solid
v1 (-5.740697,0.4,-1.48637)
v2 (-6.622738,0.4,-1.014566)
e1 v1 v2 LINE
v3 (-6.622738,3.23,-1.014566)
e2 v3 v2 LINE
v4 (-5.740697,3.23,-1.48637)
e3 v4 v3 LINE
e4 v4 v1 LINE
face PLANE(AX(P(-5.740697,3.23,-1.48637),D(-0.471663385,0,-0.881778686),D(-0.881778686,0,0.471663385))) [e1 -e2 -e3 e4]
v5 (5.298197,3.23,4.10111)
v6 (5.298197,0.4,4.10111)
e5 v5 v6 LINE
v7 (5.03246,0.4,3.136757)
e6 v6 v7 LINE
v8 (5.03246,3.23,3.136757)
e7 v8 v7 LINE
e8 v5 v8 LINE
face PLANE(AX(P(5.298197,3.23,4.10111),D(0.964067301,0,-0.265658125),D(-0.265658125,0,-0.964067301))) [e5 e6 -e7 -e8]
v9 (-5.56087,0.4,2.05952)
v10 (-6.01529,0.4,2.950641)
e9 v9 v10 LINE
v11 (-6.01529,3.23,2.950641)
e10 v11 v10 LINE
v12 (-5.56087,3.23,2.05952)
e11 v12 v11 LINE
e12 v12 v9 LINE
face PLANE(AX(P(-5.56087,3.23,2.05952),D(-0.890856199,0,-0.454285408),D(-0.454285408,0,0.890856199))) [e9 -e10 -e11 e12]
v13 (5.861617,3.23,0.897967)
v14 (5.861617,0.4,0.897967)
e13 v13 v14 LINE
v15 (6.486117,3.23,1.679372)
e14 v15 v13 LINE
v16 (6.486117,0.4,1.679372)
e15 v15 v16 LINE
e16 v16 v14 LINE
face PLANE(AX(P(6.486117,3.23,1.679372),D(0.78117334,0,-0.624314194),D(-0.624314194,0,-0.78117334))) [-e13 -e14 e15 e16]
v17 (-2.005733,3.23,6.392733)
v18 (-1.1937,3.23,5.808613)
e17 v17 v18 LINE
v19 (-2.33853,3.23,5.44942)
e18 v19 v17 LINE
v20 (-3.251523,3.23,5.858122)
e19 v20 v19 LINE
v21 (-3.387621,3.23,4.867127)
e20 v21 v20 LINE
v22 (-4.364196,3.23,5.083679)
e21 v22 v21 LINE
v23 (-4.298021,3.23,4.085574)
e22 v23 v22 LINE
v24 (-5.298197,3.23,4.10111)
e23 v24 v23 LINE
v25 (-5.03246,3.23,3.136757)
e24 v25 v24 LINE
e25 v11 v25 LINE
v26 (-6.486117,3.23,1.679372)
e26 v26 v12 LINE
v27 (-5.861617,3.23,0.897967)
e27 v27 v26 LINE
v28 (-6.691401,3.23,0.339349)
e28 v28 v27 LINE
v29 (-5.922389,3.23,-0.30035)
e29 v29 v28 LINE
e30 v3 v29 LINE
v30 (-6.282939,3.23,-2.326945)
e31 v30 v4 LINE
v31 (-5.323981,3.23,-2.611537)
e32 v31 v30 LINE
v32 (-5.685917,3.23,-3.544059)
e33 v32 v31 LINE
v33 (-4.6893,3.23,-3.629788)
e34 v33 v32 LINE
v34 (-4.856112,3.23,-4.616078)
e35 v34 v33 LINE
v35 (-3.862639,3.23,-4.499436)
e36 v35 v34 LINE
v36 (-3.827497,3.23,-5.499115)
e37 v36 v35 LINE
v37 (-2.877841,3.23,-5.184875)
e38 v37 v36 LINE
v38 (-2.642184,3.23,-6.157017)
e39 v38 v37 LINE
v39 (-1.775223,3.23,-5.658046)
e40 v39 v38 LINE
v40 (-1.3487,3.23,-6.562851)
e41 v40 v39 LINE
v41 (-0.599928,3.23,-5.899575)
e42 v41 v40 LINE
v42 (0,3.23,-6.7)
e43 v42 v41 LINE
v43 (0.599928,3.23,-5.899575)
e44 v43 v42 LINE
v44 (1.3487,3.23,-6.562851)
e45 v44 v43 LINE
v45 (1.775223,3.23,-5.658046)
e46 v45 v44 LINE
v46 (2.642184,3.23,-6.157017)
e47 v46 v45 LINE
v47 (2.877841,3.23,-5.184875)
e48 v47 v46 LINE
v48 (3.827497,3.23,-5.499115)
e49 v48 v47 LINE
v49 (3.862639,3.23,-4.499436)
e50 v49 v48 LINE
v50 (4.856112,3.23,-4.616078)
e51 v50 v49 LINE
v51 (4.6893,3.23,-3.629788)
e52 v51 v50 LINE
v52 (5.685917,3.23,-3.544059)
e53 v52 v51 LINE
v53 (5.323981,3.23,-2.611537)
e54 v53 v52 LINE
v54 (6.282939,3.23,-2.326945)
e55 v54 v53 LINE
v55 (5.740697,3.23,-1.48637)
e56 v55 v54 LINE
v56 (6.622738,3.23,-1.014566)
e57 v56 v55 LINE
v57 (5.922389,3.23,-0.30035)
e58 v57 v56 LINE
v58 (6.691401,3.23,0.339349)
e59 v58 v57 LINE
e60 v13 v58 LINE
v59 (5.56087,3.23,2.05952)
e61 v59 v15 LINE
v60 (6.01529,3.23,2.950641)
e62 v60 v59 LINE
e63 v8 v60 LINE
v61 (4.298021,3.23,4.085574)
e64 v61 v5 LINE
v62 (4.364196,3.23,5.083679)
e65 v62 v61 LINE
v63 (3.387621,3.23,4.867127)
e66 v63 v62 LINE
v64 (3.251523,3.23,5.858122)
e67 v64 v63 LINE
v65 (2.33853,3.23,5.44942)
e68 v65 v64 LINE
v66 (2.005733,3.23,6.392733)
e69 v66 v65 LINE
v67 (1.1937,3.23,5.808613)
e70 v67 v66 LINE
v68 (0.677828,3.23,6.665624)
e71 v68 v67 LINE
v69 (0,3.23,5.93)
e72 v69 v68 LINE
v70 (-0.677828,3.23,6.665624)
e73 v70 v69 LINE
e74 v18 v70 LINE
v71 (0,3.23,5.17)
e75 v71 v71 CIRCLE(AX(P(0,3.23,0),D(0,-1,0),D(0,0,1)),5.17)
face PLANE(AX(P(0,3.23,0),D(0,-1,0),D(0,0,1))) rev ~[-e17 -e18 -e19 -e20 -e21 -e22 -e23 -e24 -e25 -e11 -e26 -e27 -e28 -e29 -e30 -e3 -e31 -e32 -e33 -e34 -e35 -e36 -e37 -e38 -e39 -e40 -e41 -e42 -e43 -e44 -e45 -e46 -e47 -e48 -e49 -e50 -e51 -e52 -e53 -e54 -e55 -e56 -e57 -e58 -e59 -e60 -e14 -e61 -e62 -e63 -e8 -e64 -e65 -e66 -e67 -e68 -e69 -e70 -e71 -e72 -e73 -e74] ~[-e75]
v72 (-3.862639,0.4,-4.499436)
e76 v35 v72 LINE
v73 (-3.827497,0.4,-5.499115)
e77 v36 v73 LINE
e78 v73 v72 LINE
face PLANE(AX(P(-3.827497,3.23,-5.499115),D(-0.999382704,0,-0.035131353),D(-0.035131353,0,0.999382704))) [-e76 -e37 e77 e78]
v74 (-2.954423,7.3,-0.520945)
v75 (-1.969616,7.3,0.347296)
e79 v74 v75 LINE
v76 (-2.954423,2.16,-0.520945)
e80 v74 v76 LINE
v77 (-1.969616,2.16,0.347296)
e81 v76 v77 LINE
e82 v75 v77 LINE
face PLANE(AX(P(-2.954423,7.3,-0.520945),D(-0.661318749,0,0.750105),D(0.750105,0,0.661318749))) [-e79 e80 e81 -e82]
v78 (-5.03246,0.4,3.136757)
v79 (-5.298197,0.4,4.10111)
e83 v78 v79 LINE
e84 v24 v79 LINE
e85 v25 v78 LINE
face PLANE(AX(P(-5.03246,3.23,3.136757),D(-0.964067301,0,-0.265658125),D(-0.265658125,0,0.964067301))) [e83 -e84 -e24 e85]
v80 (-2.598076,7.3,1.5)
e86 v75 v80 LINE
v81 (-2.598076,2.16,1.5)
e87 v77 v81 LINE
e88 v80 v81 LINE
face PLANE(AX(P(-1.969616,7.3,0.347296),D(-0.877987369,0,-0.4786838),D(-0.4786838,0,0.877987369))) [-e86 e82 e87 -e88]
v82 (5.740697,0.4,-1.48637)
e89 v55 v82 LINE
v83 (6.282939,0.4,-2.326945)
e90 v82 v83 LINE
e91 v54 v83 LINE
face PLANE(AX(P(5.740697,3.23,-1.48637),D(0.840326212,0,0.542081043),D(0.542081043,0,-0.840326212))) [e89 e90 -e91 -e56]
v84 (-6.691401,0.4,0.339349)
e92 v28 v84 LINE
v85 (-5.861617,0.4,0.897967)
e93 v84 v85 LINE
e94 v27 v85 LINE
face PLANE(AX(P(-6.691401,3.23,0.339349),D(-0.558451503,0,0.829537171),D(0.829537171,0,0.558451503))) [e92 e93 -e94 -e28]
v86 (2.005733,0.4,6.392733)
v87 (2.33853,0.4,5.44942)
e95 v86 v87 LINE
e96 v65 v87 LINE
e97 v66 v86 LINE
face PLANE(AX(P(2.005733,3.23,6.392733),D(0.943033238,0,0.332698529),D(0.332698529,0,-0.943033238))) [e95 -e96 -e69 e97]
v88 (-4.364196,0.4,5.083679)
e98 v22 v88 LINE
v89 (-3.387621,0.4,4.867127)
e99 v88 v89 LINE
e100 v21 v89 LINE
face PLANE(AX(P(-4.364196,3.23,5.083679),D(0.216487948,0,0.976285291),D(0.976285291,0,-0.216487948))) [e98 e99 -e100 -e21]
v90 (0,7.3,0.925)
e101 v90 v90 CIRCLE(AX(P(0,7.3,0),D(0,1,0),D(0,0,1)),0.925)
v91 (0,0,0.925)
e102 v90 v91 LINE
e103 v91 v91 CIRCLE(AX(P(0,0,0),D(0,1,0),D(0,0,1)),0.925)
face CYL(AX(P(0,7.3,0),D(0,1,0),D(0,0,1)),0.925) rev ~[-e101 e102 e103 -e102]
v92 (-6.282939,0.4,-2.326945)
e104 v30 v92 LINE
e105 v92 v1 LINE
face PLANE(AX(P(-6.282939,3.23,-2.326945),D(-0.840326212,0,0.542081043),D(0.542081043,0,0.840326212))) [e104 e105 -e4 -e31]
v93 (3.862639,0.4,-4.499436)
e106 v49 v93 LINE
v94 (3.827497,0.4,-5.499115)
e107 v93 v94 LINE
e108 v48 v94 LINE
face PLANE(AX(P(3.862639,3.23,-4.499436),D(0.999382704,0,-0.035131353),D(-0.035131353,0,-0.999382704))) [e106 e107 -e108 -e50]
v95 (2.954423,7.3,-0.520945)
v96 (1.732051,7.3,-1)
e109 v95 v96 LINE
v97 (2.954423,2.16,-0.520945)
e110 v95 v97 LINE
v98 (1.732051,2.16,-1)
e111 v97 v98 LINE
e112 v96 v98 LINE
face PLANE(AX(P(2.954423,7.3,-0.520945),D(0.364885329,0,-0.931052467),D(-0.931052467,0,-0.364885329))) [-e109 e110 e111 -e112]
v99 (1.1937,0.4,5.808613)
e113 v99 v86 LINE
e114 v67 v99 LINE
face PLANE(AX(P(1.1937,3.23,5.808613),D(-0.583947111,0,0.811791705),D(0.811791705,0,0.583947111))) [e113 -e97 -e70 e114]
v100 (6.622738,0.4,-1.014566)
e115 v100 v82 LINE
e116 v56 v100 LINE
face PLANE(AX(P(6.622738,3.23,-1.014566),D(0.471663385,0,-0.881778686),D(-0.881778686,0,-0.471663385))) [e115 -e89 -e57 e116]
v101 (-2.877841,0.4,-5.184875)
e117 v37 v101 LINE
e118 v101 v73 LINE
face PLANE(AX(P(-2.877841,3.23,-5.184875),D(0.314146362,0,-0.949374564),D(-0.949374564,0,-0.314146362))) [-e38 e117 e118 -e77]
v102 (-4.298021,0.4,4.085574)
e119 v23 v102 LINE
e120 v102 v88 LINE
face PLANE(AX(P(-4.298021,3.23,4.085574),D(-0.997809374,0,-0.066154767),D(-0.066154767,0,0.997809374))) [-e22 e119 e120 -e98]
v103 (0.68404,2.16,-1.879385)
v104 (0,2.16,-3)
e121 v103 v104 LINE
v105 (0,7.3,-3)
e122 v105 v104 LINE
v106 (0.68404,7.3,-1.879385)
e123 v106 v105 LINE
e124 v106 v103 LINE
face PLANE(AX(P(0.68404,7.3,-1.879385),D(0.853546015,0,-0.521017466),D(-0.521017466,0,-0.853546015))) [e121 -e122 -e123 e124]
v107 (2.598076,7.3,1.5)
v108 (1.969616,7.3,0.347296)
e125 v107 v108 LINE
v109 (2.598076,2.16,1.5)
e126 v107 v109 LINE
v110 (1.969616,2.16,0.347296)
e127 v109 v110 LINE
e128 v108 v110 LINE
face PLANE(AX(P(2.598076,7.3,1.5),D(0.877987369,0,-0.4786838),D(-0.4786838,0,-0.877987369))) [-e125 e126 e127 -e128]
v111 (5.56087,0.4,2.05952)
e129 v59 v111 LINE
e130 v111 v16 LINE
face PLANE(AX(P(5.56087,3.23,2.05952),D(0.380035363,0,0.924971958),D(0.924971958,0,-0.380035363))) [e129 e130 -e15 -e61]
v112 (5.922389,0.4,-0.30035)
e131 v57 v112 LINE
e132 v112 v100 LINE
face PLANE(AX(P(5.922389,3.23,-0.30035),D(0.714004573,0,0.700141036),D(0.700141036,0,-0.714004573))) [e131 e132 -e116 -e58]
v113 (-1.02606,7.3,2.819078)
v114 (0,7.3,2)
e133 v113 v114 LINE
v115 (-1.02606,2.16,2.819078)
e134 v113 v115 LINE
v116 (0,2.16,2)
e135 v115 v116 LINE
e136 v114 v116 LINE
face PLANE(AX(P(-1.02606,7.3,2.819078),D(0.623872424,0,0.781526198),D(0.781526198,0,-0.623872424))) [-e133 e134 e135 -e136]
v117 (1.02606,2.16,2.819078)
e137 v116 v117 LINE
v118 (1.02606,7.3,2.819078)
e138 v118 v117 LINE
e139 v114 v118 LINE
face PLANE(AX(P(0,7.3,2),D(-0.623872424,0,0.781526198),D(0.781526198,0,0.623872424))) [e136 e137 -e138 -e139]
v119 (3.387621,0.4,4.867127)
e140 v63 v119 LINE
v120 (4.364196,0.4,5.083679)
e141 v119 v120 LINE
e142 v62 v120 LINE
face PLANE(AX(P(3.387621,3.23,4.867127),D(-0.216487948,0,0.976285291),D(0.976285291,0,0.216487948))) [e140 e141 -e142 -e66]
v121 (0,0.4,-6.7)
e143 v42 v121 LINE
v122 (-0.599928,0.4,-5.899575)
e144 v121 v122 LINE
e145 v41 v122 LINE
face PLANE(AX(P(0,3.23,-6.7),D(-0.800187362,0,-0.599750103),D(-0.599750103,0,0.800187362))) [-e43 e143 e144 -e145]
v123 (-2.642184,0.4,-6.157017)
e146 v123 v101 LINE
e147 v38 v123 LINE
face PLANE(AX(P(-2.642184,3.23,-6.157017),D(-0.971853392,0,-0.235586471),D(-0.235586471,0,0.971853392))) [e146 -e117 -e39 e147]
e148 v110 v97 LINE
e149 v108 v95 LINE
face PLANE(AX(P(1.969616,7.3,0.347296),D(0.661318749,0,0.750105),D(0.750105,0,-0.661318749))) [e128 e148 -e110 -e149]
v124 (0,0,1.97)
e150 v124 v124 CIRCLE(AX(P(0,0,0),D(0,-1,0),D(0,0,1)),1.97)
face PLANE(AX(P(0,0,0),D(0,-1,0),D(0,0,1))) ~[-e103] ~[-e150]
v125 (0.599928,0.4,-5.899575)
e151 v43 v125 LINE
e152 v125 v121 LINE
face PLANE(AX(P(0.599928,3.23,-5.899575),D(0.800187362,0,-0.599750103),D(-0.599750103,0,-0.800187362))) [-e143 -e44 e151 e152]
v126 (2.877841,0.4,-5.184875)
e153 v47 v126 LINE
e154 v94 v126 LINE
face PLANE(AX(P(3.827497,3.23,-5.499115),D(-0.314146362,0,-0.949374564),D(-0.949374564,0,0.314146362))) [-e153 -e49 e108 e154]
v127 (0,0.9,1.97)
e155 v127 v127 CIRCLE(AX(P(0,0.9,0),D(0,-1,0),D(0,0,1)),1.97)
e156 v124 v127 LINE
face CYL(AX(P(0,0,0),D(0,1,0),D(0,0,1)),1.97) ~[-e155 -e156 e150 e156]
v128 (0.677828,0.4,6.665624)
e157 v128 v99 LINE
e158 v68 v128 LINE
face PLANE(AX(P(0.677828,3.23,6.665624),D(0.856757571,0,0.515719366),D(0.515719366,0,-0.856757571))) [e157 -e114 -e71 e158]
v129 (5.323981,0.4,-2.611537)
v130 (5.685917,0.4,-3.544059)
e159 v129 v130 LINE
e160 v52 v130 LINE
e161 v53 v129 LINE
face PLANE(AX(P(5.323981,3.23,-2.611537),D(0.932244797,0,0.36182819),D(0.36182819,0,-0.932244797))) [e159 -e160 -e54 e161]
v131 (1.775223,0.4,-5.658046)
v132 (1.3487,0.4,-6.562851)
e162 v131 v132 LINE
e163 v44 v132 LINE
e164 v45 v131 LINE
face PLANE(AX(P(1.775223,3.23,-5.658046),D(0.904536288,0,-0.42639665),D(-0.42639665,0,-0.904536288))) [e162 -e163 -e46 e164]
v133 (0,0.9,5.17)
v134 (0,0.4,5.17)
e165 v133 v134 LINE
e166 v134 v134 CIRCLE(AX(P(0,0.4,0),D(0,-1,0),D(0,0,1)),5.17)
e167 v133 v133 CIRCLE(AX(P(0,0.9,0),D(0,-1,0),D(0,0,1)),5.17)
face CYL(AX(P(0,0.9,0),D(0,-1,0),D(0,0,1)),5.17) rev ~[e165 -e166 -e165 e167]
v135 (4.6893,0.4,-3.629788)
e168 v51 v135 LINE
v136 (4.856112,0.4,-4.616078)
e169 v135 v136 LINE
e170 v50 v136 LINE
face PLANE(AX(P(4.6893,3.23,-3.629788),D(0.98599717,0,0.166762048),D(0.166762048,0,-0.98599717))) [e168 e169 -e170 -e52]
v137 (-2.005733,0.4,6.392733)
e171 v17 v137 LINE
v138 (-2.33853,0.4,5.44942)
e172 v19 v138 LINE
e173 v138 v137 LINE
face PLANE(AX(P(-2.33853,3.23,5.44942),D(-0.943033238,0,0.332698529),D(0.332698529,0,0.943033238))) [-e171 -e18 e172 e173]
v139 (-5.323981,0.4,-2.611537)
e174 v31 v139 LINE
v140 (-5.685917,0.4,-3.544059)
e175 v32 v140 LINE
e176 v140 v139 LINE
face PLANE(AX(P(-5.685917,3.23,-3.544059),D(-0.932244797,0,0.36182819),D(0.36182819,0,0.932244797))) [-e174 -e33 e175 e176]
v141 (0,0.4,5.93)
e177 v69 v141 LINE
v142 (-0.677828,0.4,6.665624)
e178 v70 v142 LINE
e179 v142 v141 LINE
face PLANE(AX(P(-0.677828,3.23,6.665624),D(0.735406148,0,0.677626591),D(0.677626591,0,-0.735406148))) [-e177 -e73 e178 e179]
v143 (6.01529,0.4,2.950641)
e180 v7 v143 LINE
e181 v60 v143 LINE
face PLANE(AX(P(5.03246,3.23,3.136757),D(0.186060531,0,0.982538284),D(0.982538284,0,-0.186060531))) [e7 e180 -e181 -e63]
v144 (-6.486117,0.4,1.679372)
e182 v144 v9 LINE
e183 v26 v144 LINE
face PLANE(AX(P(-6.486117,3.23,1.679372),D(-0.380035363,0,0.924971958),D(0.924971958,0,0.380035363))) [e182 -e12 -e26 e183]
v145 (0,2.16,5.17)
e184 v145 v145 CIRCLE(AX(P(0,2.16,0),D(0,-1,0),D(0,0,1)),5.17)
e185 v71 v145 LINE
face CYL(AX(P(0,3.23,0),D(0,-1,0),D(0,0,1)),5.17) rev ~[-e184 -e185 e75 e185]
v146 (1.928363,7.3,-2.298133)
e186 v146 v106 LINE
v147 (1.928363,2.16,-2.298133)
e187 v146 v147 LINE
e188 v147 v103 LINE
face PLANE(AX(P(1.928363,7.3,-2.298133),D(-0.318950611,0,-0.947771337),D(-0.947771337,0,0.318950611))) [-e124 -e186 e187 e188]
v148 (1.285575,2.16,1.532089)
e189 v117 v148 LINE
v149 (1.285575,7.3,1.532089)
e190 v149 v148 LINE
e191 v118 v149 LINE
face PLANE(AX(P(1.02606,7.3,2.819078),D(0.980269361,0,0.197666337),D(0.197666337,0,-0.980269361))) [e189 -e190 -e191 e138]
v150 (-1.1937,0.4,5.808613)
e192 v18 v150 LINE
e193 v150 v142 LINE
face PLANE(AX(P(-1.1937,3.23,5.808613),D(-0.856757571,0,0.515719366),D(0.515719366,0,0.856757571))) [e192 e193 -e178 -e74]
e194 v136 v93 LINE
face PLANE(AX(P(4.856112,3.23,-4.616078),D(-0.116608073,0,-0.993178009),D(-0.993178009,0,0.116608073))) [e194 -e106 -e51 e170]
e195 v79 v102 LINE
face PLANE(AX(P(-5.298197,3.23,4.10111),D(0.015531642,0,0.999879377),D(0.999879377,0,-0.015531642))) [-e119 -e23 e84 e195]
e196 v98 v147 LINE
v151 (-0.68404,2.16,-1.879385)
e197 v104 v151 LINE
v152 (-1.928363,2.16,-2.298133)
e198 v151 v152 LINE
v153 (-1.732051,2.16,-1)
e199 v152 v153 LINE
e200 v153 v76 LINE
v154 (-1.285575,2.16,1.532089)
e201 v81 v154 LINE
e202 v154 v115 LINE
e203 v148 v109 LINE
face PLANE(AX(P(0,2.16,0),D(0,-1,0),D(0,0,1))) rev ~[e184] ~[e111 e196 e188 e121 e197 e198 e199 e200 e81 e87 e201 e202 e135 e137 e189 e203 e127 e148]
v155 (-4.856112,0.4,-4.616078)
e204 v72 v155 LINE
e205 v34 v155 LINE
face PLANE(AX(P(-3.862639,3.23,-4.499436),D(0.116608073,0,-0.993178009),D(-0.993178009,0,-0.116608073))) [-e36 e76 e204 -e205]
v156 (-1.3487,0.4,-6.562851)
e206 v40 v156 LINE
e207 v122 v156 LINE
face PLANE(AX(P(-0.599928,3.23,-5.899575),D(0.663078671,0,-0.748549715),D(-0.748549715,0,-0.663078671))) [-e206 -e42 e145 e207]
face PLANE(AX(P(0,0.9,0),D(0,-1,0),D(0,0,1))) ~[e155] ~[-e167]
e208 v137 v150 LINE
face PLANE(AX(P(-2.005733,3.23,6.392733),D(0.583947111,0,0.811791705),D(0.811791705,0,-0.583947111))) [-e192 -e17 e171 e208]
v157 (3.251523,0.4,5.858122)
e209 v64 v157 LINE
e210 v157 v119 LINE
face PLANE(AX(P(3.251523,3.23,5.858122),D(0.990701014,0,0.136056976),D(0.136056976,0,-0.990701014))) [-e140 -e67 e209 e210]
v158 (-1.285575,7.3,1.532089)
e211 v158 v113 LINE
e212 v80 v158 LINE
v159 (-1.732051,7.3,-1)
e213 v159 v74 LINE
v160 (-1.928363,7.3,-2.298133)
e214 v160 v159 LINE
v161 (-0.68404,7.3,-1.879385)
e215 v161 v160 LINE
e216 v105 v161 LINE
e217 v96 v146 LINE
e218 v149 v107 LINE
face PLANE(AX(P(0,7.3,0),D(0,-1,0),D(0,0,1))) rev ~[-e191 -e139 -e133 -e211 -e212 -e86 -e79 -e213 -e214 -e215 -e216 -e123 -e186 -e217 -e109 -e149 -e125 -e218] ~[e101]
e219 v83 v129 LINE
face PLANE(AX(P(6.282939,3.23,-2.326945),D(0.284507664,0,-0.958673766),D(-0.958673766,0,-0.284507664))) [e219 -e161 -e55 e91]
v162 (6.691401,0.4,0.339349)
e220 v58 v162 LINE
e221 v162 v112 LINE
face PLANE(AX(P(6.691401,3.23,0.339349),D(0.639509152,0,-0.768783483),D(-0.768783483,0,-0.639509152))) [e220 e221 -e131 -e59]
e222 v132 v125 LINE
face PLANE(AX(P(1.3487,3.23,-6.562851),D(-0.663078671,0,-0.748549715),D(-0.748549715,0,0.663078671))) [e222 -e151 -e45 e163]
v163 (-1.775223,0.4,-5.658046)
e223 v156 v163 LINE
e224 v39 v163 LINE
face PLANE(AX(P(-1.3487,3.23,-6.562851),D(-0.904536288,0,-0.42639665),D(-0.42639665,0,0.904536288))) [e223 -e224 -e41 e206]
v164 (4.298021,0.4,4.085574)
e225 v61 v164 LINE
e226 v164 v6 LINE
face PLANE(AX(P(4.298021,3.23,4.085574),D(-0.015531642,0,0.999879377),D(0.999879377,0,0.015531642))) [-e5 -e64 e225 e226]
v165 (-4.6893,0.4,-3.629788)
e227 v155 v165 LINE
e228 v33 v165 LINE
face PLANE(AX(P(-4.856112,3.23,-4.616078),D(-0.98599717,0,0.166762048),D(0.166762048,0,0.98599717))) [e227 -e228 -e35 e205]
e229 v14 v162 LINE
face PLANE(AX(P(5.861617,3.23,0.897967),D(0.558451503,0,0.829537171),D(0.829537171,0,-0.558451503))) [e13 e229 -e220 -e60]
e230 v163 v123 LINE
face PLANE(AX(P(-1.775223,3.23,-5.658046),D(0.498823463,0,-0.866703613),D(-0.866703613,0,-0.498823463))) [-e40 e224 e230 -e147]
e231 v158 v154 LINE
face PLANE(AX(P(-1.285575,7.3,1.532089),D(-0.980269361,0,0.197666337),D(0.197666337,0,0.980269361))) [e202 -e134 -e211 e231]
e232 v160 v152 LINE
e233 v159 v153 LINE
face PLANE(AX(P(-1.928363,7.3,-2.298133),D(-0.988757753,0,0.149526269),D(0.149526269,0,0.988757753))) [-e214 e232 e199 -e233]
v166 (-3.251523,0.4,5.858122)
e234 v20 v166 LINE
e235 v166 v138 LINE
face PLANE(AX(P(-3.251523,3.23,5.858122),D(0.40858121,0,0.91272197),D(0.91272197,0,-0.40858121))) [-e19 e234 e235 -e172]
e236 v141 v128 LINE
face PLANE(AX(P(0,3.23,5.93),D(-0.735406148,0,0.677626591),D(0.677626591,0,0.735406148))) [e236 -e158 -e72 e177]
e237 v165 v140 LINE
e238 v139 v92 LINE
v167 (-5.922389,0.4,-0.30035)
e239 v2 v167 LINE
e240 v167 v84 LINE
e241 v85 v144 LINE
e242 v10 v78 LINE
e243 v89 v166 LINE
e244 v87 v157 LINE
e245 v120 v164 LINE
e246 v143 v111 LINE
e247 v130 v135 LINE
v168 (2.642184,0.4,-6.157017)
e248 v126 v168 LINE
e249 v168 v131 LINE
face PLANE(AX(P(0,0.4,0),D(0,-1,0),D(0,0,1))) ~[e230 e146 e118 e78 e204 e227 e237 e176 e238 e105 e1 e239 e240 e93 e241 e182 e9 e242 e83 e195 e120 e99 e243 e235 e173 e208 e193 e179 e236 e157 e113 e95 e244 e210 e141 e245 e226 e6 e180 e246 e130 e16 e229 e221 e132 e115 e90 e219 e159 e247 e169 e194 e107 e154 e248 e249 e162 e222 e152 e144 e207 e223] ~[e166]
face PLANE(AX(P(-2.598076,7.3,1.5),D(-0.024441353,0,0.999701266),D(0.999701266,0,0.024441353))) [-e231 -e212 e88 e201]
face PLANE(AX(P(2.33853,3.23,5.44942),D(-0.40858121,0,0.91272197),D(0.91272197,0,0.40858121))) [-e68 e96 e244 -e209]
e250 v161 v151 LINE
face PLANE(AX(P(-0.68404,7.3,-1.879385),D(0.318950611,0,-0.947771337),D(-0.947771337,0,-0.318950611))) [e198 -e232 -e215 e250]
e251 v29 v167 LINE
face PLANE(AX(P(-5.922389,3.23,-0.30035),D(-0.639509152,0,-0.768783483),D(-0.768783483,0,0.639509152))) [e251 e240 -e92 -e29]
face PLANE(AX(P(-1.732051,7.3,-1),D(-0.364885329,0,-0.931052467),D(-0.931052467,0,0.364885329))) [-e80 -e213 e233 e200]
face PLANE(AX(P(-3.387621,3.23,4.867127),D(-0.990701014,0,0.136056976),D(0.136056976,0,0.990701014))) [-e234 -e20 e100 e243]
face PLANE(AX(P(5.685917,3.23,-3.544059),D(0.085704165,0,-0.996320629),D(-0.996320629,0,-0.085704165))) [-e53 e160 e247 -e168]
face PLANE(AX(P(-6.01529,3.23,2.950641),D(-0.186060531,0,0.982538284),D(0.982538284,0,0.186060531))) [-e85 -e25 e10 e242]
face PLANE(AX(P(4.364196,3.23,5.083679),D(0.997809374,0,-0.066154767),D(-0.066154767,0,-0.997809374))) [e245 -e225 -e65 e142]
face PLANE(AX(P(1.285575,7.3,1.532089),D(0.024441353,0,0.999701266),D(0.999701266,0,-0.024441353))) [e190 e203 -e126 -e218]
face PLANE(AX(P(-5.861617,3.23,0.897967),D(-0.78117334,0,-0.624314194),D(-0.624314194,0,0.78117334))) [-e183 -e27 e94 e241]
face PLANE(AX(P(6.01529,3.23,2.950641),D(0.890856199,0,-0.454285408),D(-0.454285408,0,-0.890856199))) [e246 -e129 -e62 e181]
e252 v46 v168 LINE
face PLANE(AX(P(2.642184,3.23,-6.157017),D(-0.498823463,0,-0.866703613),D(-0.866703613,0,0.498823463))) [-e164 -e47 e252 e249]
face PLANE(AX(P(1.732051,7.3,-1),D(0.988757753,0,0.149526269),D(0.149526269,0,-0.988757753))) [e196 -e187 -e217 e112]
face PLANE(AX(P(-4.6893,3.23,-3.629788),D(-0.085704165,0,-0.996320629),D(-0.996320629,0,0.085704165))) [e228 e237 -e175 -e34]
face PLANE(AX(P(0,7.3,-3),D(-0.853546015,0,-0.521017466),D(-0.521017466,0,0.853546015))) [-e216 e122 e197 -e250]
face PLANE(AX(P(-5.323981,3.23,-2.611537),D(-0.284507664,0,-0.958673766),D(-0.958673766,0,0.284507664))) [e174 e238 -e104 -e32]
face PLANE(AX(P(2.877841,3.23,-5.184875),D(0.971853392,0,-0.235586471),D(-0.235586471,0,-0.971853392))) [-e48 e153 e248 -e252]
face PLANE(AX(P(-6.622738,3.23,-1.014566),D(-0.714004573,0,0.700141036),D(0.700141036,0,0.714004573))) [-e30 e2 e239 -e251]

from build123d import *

# Parameters (mm, degrees)
SKETCH3_R          = 7.2
CUT_EXTRUDE1_DEPTH = 11.312366363
SKETCH4_R          = 3.5
CUT_EXTRUDE2_DEPTH = 5.14
SKETCH5_R          = 0.925
CUT_EXTRUDE3_DEPTH = 12.956372442


with BuildPart() as part:
    # Sketch1 → Revolve1 (revolve)
    with BuildSketch(Plane.XY, mode=Mode.PRIVATE) as revolve1_sk:
        Polygon((0, 7.3), (0, 0), (1.97, 0), (1.97, 0.9), (5.17, 0.9), (5.17, 0.4), (6.7, 0.4), (6.7, 3.23), (5.17, 3.23), (5.17, 2.16), (3, 2.16), (3, 7.3), align=None)
    revolve(revolve1_sk.sketch.rotate(Axis((0, 7.3, 0), (0, -1, 0)), 90), axis=Axis((0, 7.3, 0), (0, -1, 0)))

    # Sketch3 → Cut-Extrude1 (cut, through all)
    with BuildSketch(Plane(origin=(0, 3.23, 0), x_dir=(1, 0, 0), z_dir=(0, 1, 0))):
        Circle(SKETCH3_R)
        Polygon((0, 6.7), (-0.599928149, 5.899575088), (-1.348700085, 6.562850606), (-1.775223319, 5.65804579), (-2.642184229, 6.157017338), (-2.877840638, 5.184875434), (-3.827497041, 5.499115056), (-3.862638823, 4.499435668), (-4.856111674, 4.616078358), (-4.68930012, 3.629788477), (-5.685916525, 3.544058869), (-5.32398092, 2.611537319), (-6.282939285, 2.326945194), (-5.740697315, 1.486369516), (-6.622737773, 1.014566109), (-5.922388888, 0.300349571), (-6.691400598, -0.339349431), (-5.861617163, -0.897966721), (-6.486116696, -1.679371966), (-5.560870144, -2.059520149), (-6.015290415, -2.950640815), (-5.032460447, -3.136756581), (-5.298197437, -4.101110083), (-4.298021228, -4.08557383), (-4.364195634, -5.083679422), (-3.387620516, -4.867127206), (-3.251523149, -5.858122328), (-2.338530221, -5.449419823), (-2.005732924, -6.392733018), (-1.193700224, -5.808612552), (-0.677827757, -6.665624467), (0, -5.93), (0.677827757, -6.665624467), (1.193700224, -5.808612552), (2.005732924, -6.392733018), (2.338530221, -5.449419823), (3.251523149, -5.858122328), (3.387620516, -4.867127206), (4.364195634, -5.083679422), (4.298021228, -4.08557383), (5.298197437, -4.101110083), (5.032460447, -3.136756581), (6.015290415, -2.950640815), (5.560870144, -2.059520149), (6.486116696, -1.679371966), (5.861617163, -0.897966721), (6.691400598, -0.339349431), (5.922388888, 0.300349571), (6.622737773, 1.014566109), (5.740697315, 1.486369516), (6.282939285, 2.326945194), (5.32398092, 2.611537319), (5.685916525, 3.544058869), (4.68930012, 3.629788477), (4.856111674, 4.616078358), (3.862638823, 4.499435668), (3.827497041, 5.499115056), (2.877840638, 5.184875434), (2.642184229, 6.157017338), (1.775223319, 5.65804579), (1.348700085, 6.562850606), (0.599928149, 5.899575088), align=None, mode=Mode.SUBTRACT)
    extrude(amount=-CUT_EXTRUDE1_DEPTH, mode=Mode.SUBTRACT)

    # Sketch4 → Cut-Extrude2 (cut)
    with BuildSketch(Plane(origin=(0, 7.3, 0), x_dir=(1, 0, 0), z_dir=(0, 1, 0))):
        Circle(SKETCH4_R)
        Polygon((0, 3), (-0.684040287, 1.879385242), (-1.928362829, 2.298133329), (-1.732050808, 1), (-2.954423259, 0.520944533), (-1.969615506, -0.347296355), (-2.598076211, -1.5), (-1.285575219, -1.532088886), (-1.02606043, -2.819077862), (0, -2), (1.02606043, -2.819077862), (1.285575219, -1.532088886), (2.598076211, -1.5), (1.969615506, -0.347296355), (2.954423259, 0.520944533), (1.732050808, 1), (1.928362829, 2.298133329), (0.684040287, 1.879385242), align=None, mode=Mode.SUBTRACT)
    extrude(amount=-CUT_EXTRUDE2_DEPTH, mode=Mode.SUBTRACT)

    # Sketch5 → Cut-Extrude3 (cut, through all)
    with BuildSketch(Plane(origin=(0, 7.3, 0), x_dir=(1, 0, 0), z_dir=(0, 1, 0))):
        with Locations(Location((0, 0, 0), (0, 0, 270))):
            Circle(SKETCH5_R)
    extrude(amount=-CUT_EXTRUDE3_DEPTH, mode=Mode.SUBTRACT)


solid = part.part
